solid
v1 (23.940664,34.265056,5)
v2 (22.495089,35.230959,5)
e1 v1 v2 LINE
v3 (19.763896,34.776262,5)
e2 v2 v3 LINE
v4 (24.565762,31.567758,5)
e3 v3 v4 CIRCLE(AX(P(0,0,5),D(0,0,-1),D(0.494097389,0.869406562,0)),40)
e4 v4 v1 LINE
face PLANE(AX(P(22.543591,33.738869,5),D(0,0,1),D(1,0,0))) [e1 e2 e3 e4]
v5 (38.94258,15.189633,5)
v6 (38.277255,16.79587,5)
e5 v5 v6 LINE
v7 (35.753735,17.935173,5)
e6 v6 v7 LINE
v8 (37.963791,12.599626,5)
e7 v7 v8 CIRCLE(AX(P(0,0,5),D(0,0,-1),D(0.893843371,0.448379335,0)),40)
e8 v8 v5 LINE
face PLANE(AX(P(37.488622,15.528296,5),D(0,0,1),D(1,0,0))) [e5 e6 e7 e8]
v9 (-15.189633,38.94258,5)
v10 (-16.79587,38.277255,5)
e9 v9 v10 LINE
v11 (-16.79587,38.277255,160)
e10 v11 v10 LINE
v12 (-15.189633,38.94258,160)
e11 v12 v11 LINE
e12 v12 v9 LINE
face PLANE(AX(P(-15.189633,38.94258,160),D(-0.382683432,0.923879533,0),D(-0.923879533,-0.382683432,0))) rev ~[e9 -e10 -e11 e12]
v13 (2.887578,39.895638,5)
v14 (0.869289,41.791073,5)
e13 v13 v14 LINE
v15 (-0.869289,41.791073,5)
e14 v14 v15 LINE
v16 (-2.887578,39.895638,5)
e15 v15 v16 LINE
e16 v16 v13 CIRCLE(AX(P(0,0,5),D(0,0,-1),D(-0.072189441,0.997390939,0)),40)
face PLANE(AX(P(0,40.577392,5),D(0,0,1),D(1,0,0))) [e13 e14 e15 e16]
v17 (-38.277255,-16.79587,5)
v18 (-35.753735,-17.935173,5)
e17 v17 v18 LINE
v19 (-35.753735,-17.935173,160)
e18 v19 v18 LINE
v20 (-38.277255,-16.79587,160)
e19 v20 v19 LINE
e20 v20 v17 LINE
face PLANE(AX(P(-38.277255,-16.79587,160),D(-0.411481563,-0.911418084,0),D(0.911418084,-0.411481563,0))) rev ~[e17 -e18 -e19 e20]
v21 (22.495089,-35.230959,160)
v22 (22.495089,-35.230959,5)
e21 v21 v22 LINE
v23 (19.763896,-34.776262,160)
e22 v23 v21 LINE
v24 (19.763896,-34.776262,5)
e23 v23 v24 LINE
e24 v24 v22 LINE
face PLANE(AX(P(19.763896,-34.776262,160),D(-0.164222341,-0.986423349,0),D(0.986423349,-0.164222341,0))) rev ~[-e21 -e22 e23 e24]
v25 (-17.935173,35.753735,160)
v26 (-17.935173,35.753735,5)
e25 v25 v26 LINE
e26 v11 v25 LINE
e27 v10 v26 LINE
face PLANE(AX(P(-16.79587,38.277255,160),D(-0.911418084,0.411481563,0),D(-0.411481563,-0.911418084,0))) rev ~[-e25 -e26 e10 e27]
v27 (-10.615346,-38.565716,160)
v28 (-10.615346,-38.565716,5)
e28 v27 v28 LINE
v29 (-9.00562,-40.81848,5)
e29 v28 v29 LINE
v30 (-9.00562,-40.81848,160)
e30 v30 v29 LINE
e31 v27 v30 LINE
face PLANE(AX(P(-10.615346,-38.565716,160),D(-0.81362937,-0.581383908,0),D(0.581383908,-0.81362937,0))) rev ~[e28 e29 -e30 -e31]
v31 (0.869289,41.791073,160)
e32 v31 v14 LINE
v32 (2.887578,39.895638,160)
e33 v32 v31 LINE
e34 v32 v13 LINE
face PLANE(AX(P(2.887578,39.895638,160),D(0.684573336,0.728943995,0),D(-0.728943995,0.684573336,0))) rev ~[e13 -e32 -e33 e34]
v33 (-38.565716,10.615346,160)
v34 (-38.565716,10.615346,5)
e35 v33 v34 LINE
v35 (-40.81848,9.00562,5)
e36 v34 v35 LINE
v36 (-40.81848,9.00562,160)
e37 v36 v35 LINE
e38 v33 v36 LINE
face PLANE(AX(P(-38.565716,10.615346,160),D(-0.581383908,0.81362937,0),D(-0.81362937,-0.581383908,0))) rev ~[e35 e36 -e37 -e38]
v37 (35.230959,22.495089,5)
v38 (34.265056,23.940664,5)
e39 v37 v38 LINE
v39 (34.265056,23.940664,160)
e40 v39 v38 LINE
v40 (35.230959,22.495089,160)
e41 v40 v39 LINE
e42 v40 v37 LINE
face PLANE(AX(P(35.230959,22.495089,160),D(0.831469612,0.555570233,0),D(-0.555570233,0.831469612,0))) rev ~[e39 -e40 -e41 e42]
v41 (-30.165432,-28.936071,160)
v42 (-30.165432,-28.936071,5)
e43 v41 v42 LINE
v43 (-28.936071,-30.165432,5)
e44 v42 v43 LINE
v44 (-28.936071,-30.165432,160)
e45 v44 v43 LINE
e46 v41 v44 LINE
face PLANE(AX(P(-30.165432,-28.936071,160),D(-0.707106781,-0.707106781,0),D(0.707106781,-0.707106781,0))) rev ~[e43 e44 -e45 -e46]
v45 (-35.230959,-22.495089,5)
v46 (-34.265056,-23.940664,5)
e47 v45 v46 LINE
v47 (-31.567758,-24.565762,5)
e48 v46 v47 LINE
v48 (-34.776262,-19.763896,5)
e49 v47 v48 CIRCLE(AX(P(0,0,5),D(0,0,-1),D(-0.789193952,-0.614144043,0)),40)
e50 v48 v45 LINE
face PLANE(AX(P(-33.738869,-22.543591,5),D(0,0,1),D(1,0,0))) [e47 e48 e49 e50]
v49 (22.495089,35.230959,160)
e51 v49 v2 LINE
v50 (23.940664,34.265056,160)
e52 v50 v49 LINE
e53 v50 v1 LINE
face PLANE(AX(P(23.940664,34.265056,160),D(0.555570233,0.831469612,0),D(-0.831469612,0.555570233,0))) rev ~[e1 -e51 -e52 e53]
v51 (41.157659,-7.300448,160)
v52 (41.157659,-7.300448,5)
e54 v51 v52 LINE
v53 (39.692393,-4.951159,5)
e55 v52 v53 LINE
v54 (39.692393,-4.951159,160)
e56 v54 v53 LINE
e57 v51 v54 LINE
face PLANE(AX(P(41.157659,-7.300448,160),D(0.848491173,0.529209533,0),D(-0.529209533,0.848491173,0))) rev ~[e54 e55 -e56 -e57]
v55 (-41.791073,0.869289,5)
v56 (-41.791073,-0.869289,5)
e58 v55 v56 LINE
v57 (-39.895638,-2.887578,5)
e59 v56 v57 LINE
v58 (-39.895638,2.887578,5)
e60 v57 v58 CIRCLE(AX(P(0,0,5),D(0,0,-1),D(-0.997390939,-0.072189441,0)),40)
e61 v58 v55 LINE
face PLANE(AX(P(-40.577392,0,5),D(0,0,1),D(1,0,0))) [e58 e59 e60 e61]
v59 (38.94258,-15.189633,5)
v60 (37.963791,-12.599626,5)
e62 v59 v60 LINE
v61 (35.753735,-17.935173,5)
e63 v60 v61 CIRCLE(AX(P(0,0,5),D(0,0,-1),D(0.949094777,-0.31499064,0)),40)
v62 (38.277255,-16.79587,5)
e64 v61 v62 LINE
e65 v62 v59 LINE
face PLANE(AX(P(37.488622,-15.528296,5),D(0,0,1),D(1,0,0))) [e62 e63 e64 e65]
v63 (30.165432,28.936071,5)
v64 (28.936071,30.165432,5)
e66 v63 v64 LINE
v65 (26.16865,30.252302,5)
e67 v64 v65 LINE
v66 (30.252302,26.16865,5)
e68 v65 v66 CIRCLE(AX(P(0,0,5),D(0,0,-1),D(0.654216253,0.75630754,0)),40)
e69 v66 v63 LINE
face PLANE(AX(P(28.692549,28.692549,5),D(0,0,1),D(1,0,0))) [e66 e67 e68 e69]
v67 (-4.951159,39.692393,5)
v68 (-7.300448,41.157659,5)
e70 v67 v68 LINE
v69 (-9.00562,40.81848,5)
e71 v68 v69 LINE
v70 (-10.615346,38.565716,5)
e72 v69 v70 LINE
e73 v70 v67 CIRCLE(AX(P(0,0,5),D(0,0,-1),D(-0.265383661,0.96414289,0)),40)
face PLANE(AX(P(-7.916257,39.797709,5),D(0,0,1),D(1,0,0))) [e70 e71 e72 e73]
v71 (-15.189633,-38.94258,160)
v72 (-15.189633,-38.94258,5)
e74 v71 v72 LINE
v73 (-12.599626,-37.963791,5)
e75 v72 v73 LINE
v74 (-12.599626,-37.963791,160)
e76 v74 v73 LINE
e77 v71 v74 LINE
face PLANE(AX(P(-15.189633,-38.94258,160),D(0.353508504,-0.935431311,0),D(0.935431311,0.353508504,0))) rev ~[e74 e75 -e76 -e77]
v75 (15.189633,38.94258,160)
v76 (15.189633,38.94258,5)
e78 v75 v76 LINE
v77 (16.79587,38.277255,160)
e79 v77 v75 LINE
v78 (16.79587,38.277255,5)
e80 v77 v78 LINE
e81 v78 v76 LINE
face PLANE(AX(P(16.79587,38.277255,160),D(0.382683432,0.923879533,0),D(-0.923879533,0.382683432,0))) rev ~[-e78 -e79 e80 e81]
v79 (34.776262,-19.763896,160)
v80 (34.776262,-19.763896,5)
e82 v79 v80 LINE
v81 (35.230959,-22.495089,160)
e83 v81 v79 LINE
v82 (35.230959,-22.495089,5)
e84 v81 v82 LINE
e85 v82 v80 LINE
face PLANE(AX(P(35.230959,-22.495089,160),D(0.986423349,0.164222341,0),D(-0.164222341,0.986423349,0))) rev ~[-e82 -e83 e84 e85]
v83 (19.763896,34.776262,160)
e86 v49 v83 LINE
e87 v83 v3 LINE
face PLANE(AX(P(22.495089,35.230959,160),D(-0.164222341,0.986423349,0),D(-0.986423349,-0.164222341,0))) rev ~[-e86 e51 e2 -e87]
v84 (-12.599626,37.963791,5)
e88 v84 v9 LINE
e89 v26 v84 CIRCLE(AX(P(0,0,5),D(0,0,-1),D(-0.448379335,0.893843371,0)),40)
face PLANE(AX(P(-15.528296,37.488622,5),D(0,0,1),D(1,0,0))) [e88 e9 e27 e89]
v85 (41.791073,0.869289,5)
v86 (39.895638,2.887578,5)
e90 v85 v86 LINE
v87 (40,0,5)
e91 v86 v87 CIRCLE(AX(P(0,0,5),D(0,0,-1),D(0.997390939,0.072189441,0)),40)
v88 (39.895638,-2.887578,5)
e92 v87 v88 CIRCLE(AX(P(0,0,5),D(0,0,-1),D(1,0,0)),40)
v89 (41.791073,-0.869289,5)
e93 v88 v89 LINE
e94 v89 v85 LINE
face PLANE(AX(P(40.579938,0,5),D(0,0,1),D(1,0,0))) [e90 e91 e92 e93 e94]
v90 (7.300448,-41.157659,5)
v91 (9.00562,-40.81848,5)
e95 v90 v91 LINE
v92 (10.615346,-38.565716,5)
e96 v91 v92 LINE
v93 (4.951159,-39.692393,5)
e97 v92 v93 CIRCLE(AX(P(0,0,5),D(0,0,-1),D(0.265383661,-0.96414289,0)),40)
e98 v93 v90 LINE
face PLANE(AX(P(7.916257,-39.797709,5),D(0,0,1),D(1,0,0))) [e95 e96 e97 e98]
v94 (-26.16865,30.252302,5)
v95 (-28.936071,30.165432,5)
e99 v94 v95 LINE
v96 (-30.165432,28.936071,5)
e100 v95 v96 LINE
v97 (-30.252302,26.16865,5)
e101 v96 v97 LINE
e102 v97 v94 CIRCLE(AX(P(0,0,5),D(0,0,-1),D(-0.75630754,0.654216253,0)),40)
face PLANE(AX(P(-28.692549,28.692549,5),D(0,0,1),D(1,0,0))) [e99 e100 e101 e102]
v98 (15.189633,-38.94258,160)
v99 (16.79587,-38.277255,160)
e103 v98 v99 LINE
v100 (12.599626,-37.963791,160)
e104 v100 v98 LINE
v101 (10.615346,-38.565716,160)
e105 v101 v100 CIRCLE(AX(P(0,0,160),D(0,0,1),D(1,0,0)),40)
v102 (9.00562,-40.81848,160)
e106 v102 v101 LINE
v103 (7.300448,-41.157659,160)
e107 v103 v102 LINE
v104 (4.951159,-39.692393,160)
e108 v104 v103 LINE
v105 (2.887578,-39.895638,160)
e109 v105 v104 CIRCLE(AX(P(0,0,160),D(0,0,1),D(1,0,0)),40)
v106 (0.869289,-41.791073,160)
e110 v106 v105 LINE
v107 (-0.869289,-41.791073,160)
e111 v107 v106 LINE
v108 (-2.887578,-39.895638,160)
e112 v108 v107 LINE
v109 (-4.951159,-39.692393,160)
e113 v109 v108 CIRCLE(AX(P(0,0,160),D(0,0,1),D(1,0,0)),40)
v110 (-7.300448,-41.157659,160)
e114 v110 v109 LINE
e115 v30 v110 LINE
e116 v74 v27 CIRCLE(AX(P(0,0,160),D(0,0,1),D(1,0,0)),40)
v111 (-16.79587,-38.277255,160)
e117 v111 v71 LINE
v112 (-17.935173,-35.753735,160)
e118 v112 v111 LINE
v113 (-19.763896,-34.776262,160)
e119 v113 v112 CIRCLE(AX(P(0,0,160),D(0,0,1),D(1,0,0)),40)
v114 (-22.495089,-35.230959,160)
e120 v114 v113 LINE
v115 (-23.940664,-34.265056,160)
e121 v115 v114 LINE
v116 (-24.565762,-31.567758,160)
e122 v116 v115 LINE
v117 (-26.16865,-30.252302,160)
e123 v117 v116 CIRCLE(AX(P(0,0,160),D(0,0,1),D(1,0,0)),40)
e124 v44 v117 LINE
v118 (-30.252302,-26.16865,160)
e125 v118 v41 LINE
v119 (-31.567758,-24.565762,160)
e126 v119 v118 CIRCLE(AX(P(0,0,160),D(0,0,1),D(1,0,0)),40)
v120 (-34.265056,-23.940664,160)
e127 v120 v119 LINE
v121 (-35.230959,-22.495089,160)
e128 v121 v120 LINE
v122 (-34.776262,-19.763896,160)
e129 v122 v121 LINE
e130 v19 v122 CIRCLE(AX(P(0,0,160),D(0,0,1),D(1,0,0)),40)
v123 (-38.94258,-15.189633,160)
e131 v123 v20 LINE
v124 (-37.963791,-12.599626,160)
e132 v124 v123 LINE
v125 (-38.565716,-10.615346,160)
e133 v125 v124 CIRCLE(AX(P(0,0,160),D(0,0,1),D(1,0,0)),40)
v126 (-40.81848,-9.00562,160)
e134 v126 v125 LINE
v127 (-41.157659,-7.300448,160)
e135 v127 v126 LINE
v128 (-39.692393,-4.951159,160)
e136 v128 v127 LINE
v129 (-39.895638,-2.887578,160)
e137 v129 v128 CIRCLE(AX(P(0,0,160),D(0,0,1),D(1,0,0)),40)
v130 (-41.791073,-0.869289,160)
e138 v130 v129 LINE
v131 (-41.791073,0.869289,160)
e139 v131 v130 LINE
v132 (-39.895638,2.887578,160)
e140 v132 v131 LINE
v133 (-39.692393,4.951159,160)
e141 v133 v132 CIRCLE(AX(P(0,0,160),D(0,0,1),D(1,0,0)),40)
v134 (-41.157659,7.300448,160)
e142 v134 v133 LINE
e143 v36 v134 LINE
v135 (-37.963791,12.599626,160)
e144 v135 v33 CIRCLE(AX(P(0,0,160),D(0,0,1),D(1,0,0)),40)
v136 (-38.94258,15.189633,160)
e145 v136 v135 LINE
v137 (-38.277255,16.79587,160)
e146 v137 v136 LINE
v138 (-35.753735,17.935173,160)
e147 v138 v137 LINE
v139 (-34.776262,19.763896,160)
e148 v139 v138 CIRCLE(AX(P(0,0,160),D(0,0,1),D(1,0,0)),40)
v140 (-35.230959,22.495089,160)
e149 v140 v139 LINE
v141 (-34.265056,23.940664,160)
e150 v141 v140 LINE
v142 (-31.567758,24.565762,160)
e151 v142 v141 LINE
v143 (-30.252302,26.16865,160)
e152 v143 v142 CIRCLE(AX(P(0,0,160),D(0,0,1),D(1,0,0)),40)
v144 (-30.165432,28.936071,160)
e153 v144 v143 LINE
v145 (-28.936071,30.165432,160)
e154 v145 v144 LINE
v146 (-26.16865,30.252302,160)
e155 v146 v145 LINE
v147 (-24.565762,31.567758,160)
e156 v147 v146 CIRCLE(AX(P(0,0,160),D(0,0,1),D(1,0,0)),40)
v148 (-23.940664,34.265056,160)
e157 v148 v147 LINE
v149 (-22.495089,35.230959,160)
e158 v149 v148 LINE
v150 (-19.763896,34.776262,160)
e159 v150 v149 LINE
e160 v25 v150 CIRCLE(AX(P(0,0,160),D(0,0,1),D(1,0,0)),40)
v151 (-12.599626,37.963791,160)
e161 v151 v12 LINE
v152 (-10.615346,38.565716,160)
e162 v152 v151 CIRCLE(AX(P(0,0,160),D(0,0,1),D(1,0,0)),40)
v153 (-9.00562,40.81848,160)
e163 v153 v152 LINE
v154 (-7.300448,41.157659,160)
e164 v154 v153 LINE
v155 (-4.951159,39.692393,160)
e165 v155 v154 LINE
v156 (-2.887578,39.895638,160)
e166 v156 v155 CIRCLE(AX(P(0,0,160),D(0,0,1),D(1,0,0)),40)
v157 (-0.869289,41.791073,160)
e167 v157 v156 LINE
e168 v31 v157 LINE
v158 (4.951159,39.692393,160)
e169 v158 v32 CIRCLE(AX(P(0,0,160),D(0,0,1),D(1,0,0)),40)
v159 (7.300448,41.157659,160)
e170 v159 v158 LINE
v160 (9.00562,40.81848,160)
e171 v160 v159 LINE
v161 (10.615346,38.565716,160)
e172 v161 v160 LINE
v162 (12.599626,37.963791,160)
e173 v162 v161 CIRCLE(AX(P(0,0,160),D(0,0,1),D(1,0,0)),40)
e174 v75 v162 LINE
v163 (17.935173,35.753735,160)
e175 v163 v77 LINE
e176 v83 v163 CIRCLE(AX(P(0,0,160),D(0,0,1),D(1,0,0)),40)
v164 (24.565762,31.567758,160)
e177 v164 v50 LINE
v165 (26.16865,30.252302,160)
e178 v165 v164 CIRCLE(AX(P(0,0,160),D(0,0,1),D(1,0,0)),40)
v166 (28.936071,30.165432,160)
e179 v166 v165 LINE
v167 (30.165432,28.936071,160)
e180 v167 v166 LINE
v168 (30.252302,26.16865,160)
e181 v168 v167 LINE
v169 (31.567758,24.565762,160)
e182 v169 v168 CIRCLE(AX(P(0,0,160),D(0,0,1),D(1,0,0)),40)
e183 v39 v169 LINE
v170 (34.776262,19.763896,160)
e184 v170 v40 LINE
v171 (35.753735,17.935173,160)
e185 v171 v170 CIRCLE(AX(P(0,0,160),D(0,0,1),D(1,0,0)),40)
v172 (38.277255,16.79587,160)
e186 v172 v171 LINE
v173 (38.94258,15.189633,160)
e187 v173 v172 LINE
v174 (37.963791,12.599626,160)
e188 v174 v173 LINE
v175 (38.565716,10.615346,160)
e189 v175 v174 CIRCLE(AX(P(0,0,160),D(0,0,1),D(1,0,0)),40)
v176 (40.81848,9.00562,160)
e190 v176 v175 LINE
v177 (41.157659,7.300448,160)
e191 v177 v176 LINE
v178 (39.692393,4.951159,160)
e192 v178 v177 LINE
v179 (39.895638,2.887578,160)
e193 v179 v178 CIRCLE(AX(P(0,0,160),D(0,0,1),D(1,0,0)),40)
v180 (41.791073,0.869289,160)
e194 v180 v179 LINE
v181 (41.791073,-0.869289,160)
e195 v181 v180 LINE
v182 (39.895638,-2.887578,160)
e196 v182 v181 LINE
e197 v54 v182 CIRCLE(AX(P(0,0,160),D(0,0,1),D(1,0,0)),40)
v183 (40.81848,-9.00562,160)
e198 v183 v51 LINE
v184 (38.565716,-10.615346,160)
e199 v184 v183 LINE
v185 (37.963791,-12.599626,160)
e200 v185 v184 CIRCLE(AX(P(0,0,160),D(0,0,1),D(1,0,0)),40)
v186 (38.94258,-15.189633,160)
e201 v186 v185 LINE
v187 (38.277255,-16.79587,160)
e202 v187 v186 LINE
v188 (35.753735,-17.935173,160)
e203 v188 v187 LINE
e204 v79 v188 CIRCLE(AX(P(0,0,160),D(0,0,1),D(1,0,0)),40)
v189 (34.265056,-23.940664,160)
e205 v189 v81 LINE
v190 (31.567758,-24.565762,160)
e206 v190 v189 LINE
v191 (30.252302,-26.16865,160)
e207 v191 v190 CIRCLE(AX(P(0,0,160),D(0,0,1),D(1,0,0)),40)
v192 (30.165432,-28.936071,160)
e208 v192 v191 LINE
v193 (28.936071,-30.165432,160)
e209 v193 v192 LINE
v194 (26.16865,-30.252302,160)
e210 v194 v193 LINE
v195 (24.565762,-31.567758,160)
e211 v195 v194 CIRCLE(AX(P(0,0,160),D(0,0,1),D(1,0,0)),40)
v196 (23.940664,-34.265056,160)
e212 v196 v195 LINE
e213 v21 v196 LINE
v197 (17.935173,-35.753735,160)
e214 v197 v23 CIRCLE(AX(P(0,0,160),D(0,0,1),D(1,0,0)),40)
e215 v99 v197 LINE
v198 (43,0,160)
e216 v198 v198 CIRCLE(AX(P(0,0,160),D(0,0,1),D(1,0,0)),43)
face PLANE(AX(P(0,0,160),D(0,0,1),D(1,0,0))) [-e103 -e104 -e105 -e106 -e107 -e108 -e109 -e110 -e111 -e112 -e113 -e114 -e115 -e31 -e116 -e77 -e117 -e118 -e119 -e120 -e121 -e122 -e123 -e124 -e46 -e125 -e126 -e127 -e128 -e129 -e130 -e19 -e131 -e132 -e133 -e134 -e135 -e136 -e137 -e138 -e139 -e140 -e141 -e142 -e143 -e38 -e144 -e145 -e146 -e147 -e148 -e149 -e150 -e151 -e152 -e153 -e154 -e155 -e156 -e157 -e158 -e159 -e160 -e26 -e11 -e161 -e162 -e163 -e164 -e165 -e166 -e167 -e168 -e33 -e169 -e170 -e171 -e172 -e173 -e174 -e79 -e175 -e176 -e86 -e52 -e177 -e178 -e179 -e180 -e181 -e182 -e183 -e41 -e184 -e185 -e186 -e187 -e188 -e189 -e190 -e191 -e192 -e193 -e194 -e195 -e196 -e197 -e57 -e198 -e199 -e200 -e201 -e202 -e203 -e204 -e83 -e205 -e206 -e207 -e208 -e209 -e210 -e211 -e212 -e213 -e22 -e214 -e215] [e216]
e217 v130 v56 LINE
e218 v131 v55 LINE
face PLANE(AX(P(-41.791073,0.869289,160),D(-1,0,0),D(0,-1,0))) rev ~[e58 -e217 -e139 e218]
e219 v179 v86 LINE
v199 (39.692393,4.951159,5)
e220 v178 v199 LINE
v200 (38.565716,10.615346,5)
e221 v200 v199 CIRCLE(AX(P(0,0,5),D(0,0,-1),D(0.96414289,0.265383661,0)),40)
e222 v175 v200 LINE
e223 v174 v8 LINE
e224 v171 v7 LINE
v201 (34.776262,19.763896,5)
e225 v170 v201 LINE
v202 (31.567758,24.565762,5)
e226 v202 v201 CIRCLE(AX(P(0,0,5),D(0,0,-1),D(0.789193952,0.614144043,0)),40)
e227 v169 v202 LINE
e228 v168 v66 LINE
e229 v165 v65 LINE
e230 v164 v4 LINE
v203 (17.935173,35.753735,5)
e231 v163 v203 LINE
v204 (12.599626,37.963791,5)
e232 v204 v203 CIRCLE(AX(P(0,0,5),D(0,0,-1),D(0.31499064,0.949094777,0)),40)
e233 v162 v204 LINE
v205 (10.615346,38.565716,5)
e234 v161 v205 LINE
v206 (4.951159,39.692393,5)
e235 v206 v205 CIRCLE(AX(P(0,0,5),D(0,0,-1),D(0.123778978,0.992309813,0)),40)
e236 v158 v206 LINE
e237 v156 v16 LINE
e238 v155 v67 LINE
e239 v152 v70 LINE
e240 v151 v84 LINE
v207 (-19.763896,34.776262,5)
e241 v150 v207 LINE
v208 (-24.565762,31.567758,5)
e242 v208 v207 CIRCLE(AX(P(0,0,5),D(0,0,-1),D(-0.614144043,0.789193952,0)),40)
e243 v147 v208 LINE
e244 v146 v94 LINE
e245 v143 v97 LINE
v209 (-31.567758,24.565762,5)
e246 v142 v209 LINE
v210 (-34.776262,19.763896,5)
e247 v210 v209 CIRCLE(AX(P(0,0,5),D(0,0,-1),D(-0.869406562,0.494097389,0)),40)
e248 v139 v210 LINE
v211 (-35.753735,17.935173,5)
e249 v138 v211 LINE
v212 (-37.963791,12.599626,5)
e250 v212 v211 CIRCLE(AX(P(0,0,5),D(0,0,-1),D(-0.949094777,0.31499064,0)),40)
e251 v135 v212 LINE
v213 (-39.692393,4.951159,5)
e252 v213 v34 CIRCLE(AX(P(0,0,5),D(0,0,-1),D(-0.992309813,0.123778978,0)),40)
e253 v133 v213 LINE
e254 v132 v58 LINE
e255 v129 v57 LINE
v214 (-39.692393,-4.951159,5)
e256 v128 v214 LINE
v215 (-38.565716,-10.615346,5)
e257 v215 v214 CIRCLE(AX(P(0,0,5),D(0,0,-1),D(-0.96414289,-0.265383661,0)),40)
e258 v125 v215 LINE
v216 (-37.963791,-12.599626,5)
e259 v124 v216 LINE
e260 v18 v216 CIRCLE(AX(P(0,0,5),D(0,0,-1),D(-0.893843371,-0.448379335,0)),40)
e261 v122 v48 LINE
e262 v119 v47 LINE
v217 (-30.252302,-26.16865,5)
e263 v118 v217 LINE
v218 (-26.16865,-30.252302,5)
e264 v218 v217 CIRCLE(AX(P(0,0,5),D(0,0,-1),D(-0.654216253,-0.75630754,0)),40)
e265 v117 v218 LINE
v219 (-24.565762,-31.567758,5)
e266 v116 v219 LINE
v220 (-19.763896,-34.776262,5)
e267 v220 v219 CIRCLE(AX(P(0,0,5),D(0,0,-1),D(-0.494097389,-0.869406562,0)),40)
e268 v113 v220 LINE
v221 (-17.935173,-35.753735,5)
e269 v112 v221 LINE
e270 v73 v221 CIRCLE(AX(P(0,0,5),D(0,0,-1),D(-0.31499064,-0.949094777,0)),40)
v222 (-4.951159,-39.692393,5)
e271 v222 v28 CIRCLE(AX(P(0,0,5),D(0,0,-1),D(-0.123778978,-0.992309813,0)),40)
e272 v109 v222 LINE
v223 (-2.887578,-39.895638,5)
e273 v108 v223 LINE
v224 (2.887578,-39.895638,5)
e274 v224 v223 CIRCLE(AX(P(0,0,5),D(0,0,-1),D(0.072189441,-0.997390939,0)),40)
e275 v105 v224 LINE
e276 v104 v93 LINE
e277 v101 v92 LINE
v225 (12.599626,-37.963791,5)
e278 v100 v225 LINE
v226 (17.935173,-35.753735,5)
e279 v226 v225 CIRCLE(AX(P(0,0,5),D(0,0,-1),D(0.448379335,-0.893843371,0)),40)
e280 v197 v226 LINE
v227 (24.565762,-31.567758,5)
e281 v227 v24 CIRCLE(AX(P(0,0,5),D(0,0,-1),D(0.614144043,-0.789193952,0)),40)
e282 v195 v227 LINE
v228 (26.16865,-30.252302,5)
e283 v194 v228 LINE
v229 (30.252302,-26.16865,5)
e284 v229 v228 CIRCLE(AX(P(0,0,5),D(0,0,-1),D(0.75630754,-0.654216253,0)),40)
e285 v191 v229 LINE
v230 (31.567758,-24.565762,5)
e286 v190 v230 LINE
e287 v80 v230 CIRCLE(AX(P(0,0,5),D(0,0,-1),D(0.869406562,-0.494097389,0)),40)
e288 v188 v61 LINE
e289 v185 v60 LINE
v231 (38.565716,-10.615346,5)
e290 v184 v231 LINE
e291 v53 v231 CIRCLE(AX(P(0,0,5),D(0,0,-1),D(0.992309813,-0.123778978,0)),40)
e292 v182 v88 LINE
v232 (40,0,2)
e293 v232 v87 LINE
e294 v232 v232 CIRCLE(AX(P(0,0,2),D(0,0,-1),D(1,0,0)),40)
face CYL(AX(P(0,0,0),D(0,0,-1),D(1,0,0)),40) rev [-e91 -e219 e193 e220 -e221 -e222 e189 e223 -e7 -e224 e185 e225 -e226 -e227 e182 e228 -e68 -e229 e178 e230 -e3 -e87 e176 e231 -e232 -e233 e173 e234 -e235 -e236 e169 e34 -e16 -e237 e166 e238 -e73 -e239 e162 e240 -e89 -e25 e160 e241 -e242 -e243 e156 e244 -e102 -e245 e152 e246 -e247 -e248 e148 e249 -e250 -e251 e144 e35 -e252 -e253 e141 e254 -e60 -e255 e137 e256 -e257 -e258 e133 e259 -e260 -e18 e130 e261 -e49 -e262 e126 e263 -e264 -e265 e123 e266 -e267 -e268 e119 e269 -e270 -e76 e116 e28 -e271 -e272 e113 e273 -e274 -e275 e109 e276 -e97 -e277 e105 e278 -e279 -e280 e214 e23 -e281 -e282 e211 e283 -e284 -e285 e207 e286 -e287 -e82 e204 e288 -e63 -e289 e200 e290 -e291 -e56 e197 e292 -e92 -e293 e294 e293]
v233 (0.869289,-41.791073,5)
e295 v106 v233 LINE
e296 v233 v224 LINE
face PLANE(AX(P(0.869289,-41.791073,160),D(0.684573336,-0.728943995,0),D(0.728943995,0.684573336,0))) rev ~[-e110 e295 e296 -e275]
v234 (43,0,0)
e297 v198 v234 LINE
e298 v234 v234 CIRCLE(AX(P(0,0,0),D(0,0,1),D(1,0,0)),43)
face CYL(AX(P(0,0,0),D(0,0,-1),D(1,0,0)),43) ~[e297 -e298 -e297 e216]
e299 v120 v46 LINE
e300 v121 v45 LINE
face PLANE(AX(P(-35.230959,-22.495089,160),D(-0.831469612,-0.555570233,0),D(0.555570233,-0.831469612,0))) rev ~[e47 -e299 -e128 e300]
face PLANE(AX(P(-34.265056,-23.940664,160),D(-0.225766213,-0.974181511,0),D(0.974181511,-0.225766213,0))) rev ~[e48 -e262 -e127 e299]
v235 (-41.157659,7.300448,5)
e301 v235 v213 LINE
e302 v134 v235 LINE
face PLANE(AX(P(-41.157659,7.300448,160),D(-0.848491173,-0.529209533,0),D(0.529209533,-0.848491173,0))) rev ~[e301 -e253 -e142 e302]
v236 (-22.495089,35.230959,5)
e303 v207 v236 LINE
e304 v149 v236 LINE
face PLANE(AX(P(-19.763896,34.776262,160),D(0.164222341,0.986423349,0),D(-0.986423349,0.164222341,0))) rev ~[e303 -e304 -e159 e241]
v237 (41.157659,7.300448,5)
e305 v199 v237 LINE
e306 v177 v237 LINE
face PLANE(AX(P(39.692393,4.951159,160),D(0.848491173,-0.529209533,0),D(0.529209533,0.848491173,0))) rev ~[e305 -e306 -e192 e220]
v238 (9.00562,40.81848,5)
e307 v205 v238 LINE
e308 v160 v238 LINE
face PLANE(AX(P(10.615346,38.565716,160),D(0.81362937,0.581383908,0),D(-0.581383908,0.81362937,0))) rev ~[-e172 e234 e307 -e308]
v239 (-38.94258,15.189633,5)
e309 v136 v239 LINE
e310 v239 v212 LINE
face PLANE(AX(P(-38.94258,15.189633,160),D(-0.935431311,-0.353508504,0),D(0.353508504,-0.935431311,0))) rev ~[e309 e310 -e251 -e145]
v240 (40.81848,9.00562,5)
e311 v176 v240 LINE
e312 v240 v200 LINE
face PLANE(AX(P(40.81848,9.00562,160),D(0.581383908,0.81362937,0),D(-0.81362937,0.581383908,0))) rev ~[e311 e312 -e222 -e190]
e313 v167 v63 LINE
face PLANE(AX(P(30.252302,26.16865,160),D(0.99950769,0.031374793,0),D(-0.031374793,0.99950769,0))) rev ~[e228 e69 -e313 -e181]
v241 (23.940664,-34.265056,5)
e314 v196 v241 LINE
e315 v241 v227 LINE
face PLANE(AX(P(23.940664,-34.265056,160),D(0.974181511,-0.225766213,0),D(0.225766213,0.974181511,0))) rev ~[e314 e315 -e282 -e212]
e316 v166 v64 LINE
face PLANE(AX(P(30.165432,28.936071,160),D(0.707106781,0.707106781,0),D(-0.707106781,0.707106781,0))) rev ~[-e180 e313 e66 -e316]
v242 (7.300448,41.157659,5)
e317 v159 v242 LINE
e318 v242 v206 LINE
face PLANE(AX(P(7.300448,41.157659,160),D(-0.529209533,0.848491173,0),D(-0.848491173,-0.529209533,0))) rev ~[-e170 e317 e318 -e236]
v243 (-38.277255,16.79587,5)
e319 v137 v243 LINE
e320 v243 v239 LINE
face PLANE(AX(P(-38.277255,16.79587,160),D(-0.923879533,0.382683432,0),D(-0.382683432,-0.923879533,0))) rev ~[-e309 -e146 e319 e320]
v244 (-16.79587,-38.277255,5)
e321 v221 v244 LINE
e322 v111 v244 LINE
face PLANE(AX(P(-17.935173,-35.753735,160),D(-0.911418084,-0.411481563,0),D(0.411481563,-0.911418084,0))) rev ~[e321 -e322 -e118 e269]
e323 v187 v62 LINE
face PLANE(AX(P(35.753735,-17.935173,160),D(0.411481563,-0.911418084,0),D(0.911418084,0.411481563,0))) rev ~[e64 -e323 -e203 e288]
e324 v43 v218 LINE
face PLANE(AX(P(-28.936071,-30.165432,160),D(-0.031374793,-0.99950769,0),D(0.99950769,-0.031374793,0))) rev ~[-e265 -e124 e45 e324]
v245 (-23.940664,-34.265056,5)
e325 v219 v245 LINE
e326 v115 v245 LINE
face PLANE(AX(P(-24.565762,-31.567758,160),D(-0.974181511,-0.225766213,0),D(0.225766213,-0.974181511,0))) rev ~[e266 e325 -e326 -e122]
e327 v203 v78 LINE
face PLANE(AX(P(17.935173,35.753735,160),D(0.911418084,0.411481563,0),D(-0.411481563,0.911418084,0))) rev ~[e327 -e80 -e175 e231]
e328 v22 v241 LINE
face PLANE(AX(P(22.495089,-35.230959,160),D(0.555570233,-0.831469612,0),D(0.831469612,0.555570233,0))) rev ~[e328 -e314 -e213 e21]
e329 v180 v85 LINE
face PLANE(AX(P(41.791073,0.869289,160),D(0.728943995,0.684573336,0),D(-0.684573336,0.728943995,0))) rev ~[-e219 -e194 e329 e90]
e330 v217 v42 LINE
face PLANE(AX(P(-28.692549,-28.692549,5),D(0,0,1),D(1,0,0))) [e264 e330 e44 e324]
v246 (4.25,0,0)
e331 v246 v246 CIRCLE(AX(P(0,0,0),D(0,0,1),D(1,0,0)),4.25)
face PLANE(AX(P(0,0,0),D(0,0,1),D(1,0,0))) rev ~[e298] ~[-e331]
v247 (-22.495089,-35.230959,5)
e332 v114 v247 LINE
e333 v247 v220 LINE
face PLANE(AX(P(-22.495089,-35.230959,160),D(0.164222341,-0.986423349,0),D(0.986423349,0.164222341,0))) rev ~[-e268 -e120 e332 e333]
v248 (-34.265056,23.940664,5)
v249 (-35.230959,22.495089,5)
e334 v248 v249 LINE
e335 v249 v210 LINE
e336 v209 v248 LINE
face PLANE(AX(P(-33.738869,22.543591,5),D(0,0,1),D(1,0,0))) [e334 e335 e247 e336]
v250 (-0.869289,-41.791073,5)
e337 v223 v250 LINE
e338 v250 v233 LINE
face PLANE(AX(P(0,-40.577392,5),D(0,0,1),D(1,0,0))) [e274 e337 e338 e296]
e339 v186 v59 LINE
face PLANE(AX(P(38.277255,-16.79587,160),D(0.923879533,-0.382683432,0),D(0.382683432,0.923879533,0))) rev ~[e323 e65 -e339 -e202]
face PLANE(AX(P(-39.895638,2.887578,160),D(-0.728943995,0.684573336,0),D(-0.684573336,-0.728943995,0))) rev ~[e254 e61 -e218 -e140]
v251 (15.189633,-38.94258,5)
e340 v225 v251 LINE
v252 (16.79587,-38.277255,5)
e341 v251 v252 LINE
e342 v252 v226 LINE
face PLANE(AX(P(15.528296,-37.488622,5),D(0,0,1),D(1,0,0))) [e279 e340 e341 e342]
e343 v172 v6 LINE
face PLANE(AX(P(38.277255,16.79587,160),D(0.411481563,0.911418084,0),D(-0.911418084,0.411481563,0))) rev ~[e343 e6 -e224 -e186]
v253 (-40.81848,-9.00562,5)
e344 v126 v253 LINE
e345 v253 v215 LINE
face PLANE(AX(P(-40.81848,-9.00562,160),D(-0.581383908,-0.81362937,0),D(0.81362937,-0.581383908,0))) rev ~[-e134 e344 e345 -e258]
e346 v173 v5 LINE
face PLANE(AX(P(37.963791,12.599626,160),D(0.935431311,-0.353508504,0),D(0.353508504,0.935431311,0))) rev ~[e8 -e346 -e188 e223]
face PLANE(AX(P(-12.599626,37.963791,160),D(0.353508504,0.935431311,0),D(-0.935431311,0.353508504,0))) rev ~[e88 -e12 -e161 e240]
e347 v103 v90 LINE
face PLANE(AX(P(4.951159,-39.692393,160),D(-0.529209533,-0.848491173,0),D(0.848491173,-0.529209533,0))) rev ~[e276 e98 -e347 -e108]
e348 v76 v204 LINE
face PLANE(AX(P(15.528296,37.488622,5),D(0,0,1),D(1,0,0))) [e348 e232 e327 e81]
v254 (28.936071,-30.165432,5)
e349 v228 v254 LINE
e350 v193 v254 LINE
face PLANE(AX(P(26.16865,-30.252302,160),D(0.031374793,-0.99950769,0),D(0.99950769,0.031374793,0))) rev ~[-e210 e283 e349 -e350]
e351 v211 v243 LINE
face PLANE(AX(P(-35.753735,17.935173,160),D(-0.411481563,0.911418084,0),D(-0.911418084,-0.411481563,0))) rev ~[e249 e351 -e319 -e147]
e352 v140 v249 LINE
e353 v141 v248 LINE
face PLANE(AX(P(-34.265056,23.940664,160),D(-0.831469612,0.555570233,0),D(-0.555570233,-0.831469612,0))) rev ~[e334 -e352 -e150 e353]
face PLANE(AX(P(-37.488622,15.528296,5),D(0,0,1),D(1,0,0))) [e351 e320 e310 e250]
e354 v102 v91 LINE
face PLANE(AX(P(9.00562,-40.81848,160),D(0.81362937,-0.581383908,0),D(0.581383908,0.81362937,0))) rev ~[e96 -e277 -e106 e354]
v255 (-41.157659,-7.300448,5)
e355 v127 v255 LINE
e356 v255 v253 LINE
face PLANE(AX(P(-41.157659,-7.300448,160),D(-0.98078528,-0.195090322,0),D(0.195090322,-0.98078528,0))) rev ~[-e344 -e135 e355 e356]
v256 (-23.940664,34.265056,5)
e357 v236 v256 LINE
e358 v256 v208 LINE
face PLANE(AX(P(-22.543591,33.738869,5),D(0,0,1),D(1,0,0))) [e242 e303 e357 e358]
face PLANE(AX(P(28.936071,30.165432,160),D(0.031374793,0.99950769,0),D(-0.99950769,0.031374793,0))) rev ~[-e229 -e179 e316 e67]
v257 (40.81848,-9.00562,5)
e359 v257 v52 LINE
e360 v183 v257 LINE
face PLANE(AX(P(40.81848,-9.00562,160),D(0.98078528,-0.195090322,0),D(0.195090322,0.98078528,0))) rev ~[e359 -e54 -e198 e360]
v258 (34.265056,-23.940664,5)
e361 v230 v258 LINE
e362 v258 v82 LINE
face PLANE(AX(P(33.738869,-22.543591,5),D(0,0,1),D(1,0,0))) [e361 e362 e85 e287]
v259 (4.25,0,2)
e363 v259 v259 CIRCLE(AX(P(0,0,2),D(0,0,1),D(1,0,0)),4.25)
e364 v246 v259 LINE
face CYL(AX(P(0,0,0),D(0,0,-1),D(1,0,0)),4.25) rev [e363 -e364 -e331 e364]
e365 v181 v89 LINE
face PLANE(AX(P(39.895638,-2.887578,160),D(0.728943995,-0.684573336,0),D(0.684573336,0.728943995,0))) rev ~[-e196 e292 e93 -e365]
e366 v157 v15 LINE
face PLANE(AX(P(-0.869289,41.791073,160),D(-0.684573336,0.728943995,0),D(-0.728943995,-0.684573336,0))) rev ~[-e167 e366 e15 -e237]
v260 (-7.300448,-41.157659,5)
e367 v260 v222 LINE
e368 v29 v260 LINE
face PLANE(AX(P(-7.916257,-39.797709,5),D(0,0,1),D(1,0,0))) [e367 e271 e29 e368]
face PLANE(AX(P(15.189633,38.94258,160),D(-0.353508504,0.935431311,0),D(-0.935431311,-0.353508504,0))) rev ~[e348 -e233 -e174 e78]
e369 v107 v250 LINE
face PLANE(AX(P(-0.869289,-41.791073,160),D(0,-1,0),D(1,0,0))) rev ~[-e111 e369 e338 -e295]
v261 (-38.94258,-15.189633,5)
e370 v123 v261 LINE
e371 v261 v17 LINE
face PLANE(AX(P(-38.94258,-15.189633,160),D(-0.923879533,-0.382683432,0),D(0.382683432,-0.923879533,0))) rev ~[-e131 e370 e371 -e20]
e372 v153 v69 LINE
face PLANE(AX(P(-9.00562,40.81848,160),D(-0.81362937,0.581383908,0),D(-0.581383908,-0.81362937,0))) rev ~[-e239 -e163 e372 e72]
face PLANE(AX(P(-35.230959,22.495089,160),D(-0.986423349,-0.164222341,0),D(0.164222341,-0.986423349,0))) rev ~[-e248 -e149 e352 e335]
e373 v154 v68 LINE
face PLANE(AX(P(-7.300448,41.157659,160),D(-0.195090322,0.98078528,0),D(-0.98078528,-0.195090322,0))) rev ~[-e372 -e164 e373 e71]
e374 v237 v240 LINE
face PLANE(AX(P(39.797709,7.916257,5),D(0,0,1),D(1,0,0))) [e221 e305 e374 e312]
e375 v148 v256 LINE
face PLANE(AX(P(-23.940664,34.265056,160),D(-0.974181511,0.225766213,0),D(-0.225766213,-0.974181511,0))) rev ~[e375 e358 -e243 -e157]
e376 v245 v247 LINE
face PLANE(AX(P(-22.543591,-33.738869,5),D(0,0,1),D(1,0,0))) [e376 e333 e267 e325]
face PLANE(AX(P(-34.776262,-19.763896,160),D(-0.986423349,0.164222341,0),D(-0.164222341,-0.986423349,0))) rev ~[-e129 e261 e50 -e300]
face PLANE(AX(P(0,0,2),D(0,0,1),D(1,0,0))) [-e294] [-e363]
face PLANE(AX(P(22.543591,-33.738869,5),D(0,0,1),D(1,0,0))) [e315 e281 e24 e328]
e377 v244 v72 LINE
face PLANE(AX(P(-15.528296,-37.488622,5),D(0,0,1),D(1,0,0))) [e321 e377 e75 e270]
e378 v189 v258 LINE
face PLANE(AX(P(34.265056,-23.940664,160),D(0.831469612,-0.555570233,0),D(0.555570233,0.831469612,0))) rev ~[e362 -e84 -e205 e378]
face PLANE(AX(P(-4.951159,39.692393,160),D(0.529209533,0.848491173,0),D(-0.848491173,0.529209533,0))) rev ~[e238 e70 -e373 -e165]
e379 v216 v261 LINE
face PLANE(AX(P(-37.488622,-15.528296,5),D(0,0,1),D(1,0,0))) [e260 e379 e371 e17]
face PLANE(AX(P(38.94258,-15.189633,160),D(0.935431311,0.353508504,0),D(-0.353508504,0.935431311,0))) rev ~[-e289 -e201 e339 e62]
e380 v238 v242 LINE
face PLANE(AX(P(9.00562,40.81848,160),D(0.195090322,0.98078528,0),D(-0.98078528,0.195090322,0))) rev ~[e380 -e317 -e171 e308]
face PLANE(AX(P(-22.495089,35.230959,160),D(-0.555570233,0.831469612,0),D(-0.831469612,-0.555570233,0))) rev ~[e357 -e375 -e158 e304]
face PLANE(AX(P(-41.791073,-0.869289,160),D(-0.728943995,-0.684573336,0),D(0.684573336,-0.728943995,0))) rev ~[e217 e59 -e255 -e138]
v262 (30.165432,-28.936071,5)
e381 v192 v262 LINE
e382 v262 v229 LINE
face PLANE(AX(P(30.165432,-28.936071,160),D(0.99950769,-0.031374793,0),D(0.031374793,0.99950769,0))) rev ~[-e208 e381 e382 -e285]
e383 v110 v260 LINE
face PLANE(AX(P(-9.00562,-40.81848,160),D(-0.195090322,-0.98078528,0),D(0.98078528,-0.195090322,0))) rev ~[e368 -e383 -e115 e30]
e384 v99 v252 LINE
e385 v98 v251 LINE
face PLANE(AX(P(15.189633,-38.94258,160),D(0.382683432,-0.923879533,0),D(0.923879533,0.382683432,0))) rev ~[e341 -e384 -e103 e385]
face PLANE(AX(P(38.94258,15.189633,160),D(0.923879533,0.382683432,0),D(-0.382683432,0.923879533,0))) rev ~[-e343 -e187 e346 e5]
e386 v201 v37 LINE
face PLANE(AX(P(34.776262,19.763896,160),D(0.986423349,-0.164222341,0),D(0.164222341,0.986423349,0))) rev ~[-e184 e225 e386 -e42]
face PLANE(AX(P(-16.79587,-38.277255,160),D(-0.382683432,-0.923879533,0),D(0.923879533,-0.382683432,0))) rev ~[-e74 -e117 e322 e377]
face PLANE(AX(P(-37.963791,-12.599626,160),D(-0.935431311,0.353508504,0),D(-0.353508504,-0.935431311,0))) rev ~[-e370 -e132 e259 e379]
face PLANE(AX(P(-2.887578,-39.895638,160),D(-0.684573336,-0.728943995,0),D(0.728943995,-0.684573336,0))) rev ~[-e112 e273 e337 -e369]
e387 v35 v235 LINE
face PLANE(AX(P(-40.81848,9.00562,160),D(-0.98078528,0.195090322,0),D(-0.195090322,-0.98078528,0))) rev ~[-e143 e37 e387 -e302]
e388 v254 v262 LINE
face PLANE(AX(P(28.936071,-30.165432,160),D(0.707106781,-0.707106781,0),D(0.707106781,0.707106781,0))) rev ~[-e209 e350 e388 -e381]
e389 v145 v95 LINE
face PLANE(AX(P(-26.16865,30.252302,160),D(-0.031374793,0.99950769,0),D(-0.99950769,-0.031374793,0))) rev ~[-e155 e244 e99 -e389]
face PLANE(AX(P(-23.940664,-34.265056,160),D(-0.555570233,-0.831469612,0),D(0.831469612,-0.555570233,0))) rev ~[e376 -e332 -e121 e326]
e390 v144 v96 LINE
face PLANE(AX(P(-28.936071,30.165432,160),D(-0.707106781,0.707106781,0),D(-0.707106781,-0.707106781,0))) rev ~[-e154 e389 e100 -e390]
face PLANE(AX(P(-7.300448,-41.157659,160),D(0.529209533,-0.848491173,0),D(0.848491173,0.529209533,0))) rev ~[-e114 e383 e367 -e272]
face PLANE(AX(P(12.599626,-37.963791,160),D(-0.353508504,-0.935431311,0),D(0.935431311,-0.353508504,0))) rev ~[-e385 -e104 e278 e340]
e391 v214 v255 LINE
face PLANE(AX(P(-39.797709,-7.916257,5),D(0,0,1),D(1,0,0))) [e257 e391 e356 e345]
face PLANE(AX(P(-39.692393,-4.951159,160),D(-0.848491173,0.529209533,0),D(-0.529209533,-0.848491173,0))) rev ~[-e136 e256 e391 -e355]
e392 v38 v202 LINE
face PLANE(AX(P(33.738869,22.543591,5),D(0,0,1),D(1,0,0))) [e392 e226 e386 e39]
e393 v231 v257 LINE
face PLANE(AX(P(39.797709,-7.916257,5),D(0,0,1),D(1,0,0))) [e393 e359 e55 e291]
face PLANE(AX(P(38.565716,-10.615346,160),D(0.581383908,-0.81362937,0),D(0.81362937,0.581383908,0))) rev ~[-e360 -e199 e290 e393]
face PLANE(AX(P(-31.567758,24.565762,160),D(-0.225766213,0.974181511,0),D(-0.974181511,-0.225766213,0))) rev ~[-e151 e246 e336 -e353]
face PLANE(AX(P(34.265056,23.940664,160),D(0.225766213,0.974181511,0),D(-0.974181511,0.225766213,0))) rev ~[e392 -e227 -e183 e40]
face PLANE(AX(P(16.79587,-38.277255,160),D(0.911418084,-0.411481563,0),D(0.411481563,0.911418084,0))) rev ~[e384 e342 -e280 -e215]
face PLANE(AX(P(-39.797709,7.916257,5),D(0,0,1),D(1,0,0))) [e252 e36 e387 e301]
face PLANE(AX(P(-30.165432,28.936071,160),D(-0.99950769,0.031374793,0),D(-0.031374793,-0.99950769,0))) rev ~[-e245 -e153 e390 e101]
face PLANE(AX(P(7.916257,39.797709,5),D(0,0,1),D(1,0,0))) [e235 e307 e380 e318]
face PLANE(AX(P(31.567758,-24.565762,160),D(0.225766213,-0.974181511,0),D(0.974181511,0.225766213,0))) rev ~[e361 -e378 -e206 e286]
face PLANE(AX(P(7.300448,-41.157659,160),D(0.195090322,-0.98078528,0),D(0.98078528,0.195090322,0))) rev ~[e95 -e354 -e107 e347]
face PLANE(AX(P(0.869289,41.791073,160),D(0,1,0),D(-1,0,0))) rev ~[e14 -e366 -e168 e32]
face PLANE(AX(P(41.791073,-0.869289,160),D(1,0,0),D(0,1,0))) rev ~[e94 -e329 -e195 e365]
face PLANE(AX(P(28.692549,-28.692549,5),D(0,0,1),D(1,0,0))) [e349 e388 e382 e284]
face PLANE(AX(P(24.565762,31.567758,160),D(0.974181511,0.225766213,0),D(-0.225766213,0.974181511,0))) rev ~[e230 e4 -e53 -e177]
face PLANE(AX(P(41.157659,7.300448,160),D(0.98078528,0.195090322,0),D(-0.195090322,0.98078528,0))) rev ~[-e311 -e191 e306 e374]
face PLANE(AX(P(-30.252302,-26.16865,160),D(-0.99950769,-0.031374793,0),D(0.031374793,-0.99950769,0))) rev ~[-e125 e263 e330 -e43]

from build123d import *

# Parameters (mm, degrees)
F0_R     = 43
F0_R_2   = 40
F0_R_3   = 4.25
F1_DEPTH = 2
F2_DEPTH = 160
F4_DEPTH = 155


with BuildPart() as f1:
    # F0 (on Top) → F1 (new body)
    with BuildSketch(Plane.XY):
        Circle(F0_R)
        Circle(F0_R_2, mode=Mode.SUBTRACT)
        Circle(F0_R_2)
        Circle(F0_R_3, mode=Mode.SUBTRACT)
    extrude(amount=F1_DEPTH)

    # F0 (on Top) → F2 (join)
    with BuildSketch(Plane.XY):
        Circle(F0_R)
        Circle(F0_R_2, mode=Mode.SUBTRACT)
    extrude(amount=F2_DEPTH)

    # F3 (on face) → F4 (cut)
    with BuildSketch(Plane.XY.offset(160)):
        with BuildLine():
            ThreePointArc((-17.935173408, 35.7537348374), (-15.3073372946, 36.9551813005), (-12.5996256178, 37.9637910948))
            Line((-12.5996256178, 37.9637910948), (-15.1896329803, 38.9425798282))
            Line((-15.1896329803, 38.9425798282), (-16.7958697893, 38.2772547575))
            Line((-16.7958697893, 38.2772547575), (-17.935173408, 35.7537348374))
        make_face()
        with BuildLine():
            ThreePointArc((-10.6153464373, 38.5657156036), (-7.8036128806, 39.2314112161), (-4.9511591149, 39.6923925132))
            Line((-4.9511591149, 39.6923925132), (-7.300448003, 41.1576594658))
            Line((-7.300448003, 41.1576594658), (-9.0056199043, 40.8184796861))
            Line((-9.0056199043, 40.8184796861), (-10.6153464373, 38.5657156036))
        make_face()
        with BuildLine():
            Line((-0.8692890969, 41.7910733317), (-2.8875776562, 39.895637547))
            ThreePointArc((-2.8875776562, 39.895637547), (0, 40), (2.8875776562, 39.895637547))
            Line((2.8875776562, 39.895637547), (0.8692890969, 41.7910733317))
            Line((0.8692890969, 41.7910733317), (-0.8692890969, 41.7910733317))
        make_face()
        with BuildLine():
            Line((7.300448003, 41.1576594658), (4.9511591149, 39.6923925132))
            ThreePointArc((4.9511591149, 39.6923925132), (7.8036128806, 39.2314112161), (10.6153464373, 38.5657156036))
            Line((10.6153464373, 38.5657156036), (9.0056199043, 40.8184796861))
            Line((9.0056199043, 40.8184796861), (7.300448003, 41.1576594658))
        make_face()
        with BuildLine():
            Line((15.1896329803, 38.9425798282), (12.5996256178, 37.9637910948))
            ThreePointArc((12.5996256178, 37.9637910948), (15.3073372946, 36.9551813005), (17.935173408, 35.7537348374))
            Line((17.935173408, 35.7537348374), (16.7958697893, 38.2772547575))
            Line((16.7958697893, 38.2772547575), (15.1896329803, 38.9425798282))
        make_face()
        with BuildLine():
            ThreePointArc((-24.5657617227, 31.5677580924), (-22.2228093208, 33.2587844921), (-19.7638955741, 34.7762624751))
            Line((-19.7638955741, 34.7762624751), (-22.4950888807, 35.2309586869))
            Line((-22.4950888807, 35.2309586869), (-23.9406638174, 34.2650563947))
            Line((-23.9406638174, 34.2650563947), (-24.5657617227, 31.5677580924))
        make_face()
        with BuildLine():
            ThreePointArc((-30.2523015911, 26.1686501073), (-28.2842712475, 28.2842712475), (-26.1686501073, 30.2523015911))
            Line((-26.1686501073, 30.2523015911), (-28.9360711307, 30.1654315611))
            Line((-28.9360711307, 30.1654315611), (-30.1654315611, 28.9360711307))
            Line((-30.1654315611, 28.9360711307), (-30.2523015911, 26.1686501073))
        make_face()
        with BuildLine():
            ThreePointArc((-34.7762624751, 19.7638955741), (-33.2587844921, 22.2228093208), (-31.5677580924, 24.5657617227))
            Line((-31.5677580924, 24.5657617227), (-34.2650563947, 23.9406638174))
            Line((-34.2650563947, 23.9406638174), (-35.2309586869, 22.4950888807))
            Line((-35.2309586869, 22.4950888807), (-34.7762624751, 19.7638955741))
        make_face()
        with BuildLine():
            ThreePointArc((-37.9637910948, 12.5996256178), (-36.9551813005, 15.3073372946), (-35.7537348374, 17.935173408))
            Line((-35.7537348374, 17.935173408), (-38.2772547575, 16.7958697893))
            Line((-38.2772547575, 16.7958697893), (-38.9425798282, 15.1896329803))
            Line((-38.9425798282, 15.1896329803), (-37.9637910948, 12.5996256178))
        make_face()
        with BuildLine():
            ThreePointArc((-39.6923925132, 4.9511591149), (-39.2314112161, 7.8036128806), (-38.5657156036, 10.6153464373))
            Line((-38.5657156036, 10.6153464373), (-40.8184796861, 9.0056199043))
            Line((-40.8184796861, 9.0056199043), (-41.1576594658, 7.300448003))
            Line((-41.1576594658, 7.300448003), (-39.6923925132, 4.9511591149))
        make_face()
        with BuildLine():
            Line((22.4950888807, 35.2309586869), (19.7638955741, 34.7762624751))
            ThreePointArc((19.7638955741, 34.7762624751), (22.2228093208, 33.2587844921), (24.5657617227, 31.5677580924))
            Line((24.5657617227, 31.5677580924), (23.9406638174, 34.2650563947))
            Line((23.9406638174, 34.2650563947), (22.4950888807, 35.2309586869))
        make_face()
        with BuildLine():
            Line((28.9360711307, 30.1654315611), (26.1686501073, 30.2523015911))
            ThreePointArc((26.1686501073, 30.2523015911), (28.2842712475, 28.2842712475), (30.2523015911, 26.1686501073))
            Line((30.2523015911, 26.1686501073), (30.1654315611, 28.9360711307))
            Line((30.1654315611, 28.9360711307), (28.9360711307, 30.1654315611))
        make_face()
        with BuildLine():
            Line((34.2650563947, 23.9406638174), (31.5677580924, 24.5657617227))
            ThreePointArc((31.5677580924, 24.5657617227), (33.2587844921, 22.2228093208), (34.7762624751, 19.7638955741))
            Line((34.7762624751, 19.7638955741), (35.2309586869, 22.4950888807))
            Line((35.2309586869, 22.4950888807), (34.2650563947, 23.9406638174))
        make_face()
        with BuildLine():
            Line((38.2772547575, 16.7958697893), (35.7537348374, 17.935173408))
            ThreePointArc((35.7537348374, 17.935173408), (36.9551813005, 15.3073372946), (37.9637910948, 12.5996256178))
            Line((37.9637910948, 12.5996256178), (38.9425798282, 15.1896329803))
            Line((38.9425798282, 15.1896329803), (38.2772547575, 16.7958697893))
        make_face()
        with BuildLine():
            ThreePointArc((-39.895637547, -2.8875776562), (-40, 0), (-39.895637547, 2.8875776562))
            Line((-39.895637547, 2.8875776562), (-41.7910733317, 0.8692890969))
            Line((-41.7910733317, 0.8692890969), (-41.7910733317, -0.8692890969))
            Line((-41.7910733317, -0.8692890969), (-39.895637547, -2.8875776562))
        make_face()
        with BuildLine():
            ThreePointArc((-38.5657156036, -10.6153464373), (-39.2314112161, -7.8036128806), (-39.6923925132, -4.9511591149))
            Line((-39.6923925132, -4.9511591149), (-41.1576594658, -7.300448003))
            Line((-41.1576594658, -7.300448003), (-40.8184796861, -9.0056199043))
            Line((-40.8184796861, -9.0056199043), (-38.5657156036, -10.6153464373))
        make_face()
        with BuildLine():
            ThreePointArc((-35.7537348374, -17.935173408), (-36.9551813005, -15.3073372946), (-37.9637910948, -12.5996256178))
            Line((-37.9637910948, -12.5996256178), (-38.9425798282, -15.1896329803))
            Line((-38.9425798282, -15.1896329803), (-38.2772547575, -16.7958697893))
            Line((-38.2772547575, -16.7958697893), (-35.7537348374, -17.935173408))
        make_face()
        with BuildLine():
            ThreePointArc((-31.5677580924, -24.5657617227), (-33.2587844921, -22.2228093208), (-34.7762624751, -19.7638955741))
            Line((-34.7762624751, -19.7638955741), (-35.2309586869, -22.4950888807))
            Line((-35.2309586869, -22.4950888807), (-34.2650563947, -23.9406638174))
            Line((-34.2650563947, -23.9406638174), (-31.5677580924, -24.5657617227))
        make_face()
        with BuildLine():
            ThreePointArc((-26.1686501073, -30.2523015911), (-28.2842712475, -28.2842712475), (-30.2523015911, -26.1686501073))
            Line((-30.2523015911, -26.1686501073), (-30.1654315611, -28.9360711307))
            Line((-30.1654315611, -28.9360711307), (-28.9360711307, -30.1654315611))
            Line((-28.9360711307, -30.1654315611), (-26.1686501073, -30.2523015911))
        make_face()
        with BuildLine():
            ThreePointArc((-19.7638955741, -34.7762624751), (-22.2228093208, -33.2587844921), (-24.5657617227, -31.5677580924))
            Line((-24.5657617227, -31.5677580924), (-23.9406638174, -34.2650563947))
            Line((-23.9406638174, -34.2650563947), (-22.4950888807, -35.2309586869))
            Line((-22.4950888807, -35.2309586869), (-19.7638955741, -34.7762624751))
        make_face()
        with BuildLine():
            ThreePointArc((-12.5996256178, -37.9637910948), (-15.3073372946, -36.9551813005), (-17.935173408, -35.7537348374))
            Line((-17.935173408, -35.7537348374), (-16.7958697893, -38.2772547575))
            Line((-16.7958697893, -38.2772547575), (-15.1896329803, -38.9425798282))
            Line((-15.1896329803, -38.9425798282), (-12.5996256178, -37.9637910948))
        make_face()
        with BuildLine():
            ThreePointArc((-4.9511591149, -39.6923925132), (-7.8036128806, -39.2314112161), (-10.6153464373, -38.5657156036))
            Line((-10.6153464373, -38.5657156036), (-9.0056199043, -40.8184796861))
            Line((-9.0056199043, -40.8184796861), (-7.300448003, -41.1576594658))
            Line((-7.300448003, -41.1576594658), (-4.9511591149, -39.6923925132))
        make_face()
        with BuildLine():
            ThreePointArc((2.8875776562, -39.895637547), (0, -40), (-2.8875776562, -39.895637547))
            Line((-2.8875776562, -39.895637547), (-0.8692890969, -41.7910733317))
            Line((-0.8692890969, -41.7910733317), (0.8692890969, -41.7910733317))
            Line((0.8692890969, -41.7910733317), (2.8875776562, -39.895637547))
        make_face()
        with BuildLine():
            Line((9.0056199043, -40.8184796861), (10.6153464373, -38.5657156036))
            ThreePointArc((10.6153464373, -38.5657156036), (7.8036128806, -39.2314112161), (4.9511591149, -39.6923925132))
            Line((4.9511591149, -39.6923925132), (7.300448003, -41.1576594658))
            Line((7.300448003, -41.1576594658), (9.0056199043, -40.8184796861))
        make_face()
        with BuildLine():
            Line((16.7958697893, -38.2772547575), (17.935173408, -35.7537348374))
            ThreePointArc((17.935173408, -35.7537348374), (15.3073372946, -36.9551813005), (12.5996256178, -37.9637910948))
            Line((12.5996256178, -37.9637910948), (15.1896329803, -38.9425798282))
            Line((15.1896329803, -38.9425798282), (16.7958697893, -38.2772547575))
        make_face()
        with BuildLine():
            Line((40.8184796861, 9.0056199043), (38.5657156036, 10.6153464373))
            ThreePointArc((38.5657156036, 10.6153464373), (39.2314112161, 7.8036128806), (39.6923925132, 4.9511591149))
            Line((39.6923925132, 4.9511591149), (41.1576594658, 7.300448003))
            Line((41.1576594658, 7.300448003), (40.8184796861, 9.0056199043))
        make_face()
        with BuildLine():
            Line((41.7910733317, 0.8692890969), (39.895637547, 2.8875776562))
            ThreePointArc((39.895637547, 2.8875776562), (39.9739008722, 1.4447314839), (40, 0))
            ThreePointArc((40, 0), (39.9739008722, -1.4447314839), (39.895637547, -2.8875776562))
            Line((39.895637547, -2.8875776562), (41.7910733317, -0.8692890969))
            Line((41.7910733317, -0.8692890969), (41.7910733317, 0.8692890969))
        make_face()
        with BuildLine():
            Line((41.1576594658, -7.300448003), (39.6923925132, -4.9511591149))
            ThreePointArc((39.6923925132, -4.9511591149), (39.2314112161, -7.8036128806), (38.5657156036, -10.6153464373))
            Line((38.5657156036, -10.6153464373), (40.8184796861, -9.0056199043))
            Line((40.8184796861, -9.0056199043), (41.1576594658, -7.300448003))
        make_face()
        with BuildLine():
            Line((38.9425798282, -15.1896329803), (37.9637910948, -12.5996256178))
            ThreePointArc((37.9637910948, -12.5996256178), (36.9551813005, -15.3073372946), (35.7537348374, -17.935173408))
            Line((35.7537348374, -17.935173408), (38.2772547575, -16.7958697893))
            Line((38.2772547575, -16.7958697893), (38.9425798282, -15.1896329803))
        make_face()
        with BuildLine():
            Line((35.2309586869, -22.4950888807), (34.7762624751, -19.7638955741))
            ThreePointArc((34.7762624751, -19.7638955741), (33.2587844921, -22.2228093208), (31.5677580924, -24.5657617227))
            Line((31.5677580924, -24.5657617227), (34.2650563947, -23.9406638174))
            Line((34.2650563947, -23.9406638174), (35.2309586869, -22.4950888807))
        make_face()
        with BuildLine():
            Line((30.1654315611, -28.9360711307), (30.2523015911, -26.1686501073))
            ThreePointArc((30.2523015911, -26.1686501073), (28.2842712475, -28.2842712475), (26.1686501073, -30.2523015911))
            Line((26.1686501073, -30.2523015911), (28.9360711307, -30.1654315611))
            Line((28.9360711307, -30.1654315611), (30.1654315611, -28.9360711307))
        make_face()
        with BuildLine():
            Line((23.9406638174, -34.2650563947), (24.5657617227, -31.5677580924))
            ThreePointArc((24.5657617227, -31.5677580924), (22.2228093208, -33.2587844921), (19.7638955741, -34.7762624751))
            Line((19.7638955741, -34.7762624751), (22.4950888807, -35.2309586869))
            Line((22.4950888807, -35.2309586869), (23.9406638174, -34.2650563947))
        make_face()
    extrude(amount=-F4_DEPTH, mode=Mode.SUBTRACT)


solid = f1.part
